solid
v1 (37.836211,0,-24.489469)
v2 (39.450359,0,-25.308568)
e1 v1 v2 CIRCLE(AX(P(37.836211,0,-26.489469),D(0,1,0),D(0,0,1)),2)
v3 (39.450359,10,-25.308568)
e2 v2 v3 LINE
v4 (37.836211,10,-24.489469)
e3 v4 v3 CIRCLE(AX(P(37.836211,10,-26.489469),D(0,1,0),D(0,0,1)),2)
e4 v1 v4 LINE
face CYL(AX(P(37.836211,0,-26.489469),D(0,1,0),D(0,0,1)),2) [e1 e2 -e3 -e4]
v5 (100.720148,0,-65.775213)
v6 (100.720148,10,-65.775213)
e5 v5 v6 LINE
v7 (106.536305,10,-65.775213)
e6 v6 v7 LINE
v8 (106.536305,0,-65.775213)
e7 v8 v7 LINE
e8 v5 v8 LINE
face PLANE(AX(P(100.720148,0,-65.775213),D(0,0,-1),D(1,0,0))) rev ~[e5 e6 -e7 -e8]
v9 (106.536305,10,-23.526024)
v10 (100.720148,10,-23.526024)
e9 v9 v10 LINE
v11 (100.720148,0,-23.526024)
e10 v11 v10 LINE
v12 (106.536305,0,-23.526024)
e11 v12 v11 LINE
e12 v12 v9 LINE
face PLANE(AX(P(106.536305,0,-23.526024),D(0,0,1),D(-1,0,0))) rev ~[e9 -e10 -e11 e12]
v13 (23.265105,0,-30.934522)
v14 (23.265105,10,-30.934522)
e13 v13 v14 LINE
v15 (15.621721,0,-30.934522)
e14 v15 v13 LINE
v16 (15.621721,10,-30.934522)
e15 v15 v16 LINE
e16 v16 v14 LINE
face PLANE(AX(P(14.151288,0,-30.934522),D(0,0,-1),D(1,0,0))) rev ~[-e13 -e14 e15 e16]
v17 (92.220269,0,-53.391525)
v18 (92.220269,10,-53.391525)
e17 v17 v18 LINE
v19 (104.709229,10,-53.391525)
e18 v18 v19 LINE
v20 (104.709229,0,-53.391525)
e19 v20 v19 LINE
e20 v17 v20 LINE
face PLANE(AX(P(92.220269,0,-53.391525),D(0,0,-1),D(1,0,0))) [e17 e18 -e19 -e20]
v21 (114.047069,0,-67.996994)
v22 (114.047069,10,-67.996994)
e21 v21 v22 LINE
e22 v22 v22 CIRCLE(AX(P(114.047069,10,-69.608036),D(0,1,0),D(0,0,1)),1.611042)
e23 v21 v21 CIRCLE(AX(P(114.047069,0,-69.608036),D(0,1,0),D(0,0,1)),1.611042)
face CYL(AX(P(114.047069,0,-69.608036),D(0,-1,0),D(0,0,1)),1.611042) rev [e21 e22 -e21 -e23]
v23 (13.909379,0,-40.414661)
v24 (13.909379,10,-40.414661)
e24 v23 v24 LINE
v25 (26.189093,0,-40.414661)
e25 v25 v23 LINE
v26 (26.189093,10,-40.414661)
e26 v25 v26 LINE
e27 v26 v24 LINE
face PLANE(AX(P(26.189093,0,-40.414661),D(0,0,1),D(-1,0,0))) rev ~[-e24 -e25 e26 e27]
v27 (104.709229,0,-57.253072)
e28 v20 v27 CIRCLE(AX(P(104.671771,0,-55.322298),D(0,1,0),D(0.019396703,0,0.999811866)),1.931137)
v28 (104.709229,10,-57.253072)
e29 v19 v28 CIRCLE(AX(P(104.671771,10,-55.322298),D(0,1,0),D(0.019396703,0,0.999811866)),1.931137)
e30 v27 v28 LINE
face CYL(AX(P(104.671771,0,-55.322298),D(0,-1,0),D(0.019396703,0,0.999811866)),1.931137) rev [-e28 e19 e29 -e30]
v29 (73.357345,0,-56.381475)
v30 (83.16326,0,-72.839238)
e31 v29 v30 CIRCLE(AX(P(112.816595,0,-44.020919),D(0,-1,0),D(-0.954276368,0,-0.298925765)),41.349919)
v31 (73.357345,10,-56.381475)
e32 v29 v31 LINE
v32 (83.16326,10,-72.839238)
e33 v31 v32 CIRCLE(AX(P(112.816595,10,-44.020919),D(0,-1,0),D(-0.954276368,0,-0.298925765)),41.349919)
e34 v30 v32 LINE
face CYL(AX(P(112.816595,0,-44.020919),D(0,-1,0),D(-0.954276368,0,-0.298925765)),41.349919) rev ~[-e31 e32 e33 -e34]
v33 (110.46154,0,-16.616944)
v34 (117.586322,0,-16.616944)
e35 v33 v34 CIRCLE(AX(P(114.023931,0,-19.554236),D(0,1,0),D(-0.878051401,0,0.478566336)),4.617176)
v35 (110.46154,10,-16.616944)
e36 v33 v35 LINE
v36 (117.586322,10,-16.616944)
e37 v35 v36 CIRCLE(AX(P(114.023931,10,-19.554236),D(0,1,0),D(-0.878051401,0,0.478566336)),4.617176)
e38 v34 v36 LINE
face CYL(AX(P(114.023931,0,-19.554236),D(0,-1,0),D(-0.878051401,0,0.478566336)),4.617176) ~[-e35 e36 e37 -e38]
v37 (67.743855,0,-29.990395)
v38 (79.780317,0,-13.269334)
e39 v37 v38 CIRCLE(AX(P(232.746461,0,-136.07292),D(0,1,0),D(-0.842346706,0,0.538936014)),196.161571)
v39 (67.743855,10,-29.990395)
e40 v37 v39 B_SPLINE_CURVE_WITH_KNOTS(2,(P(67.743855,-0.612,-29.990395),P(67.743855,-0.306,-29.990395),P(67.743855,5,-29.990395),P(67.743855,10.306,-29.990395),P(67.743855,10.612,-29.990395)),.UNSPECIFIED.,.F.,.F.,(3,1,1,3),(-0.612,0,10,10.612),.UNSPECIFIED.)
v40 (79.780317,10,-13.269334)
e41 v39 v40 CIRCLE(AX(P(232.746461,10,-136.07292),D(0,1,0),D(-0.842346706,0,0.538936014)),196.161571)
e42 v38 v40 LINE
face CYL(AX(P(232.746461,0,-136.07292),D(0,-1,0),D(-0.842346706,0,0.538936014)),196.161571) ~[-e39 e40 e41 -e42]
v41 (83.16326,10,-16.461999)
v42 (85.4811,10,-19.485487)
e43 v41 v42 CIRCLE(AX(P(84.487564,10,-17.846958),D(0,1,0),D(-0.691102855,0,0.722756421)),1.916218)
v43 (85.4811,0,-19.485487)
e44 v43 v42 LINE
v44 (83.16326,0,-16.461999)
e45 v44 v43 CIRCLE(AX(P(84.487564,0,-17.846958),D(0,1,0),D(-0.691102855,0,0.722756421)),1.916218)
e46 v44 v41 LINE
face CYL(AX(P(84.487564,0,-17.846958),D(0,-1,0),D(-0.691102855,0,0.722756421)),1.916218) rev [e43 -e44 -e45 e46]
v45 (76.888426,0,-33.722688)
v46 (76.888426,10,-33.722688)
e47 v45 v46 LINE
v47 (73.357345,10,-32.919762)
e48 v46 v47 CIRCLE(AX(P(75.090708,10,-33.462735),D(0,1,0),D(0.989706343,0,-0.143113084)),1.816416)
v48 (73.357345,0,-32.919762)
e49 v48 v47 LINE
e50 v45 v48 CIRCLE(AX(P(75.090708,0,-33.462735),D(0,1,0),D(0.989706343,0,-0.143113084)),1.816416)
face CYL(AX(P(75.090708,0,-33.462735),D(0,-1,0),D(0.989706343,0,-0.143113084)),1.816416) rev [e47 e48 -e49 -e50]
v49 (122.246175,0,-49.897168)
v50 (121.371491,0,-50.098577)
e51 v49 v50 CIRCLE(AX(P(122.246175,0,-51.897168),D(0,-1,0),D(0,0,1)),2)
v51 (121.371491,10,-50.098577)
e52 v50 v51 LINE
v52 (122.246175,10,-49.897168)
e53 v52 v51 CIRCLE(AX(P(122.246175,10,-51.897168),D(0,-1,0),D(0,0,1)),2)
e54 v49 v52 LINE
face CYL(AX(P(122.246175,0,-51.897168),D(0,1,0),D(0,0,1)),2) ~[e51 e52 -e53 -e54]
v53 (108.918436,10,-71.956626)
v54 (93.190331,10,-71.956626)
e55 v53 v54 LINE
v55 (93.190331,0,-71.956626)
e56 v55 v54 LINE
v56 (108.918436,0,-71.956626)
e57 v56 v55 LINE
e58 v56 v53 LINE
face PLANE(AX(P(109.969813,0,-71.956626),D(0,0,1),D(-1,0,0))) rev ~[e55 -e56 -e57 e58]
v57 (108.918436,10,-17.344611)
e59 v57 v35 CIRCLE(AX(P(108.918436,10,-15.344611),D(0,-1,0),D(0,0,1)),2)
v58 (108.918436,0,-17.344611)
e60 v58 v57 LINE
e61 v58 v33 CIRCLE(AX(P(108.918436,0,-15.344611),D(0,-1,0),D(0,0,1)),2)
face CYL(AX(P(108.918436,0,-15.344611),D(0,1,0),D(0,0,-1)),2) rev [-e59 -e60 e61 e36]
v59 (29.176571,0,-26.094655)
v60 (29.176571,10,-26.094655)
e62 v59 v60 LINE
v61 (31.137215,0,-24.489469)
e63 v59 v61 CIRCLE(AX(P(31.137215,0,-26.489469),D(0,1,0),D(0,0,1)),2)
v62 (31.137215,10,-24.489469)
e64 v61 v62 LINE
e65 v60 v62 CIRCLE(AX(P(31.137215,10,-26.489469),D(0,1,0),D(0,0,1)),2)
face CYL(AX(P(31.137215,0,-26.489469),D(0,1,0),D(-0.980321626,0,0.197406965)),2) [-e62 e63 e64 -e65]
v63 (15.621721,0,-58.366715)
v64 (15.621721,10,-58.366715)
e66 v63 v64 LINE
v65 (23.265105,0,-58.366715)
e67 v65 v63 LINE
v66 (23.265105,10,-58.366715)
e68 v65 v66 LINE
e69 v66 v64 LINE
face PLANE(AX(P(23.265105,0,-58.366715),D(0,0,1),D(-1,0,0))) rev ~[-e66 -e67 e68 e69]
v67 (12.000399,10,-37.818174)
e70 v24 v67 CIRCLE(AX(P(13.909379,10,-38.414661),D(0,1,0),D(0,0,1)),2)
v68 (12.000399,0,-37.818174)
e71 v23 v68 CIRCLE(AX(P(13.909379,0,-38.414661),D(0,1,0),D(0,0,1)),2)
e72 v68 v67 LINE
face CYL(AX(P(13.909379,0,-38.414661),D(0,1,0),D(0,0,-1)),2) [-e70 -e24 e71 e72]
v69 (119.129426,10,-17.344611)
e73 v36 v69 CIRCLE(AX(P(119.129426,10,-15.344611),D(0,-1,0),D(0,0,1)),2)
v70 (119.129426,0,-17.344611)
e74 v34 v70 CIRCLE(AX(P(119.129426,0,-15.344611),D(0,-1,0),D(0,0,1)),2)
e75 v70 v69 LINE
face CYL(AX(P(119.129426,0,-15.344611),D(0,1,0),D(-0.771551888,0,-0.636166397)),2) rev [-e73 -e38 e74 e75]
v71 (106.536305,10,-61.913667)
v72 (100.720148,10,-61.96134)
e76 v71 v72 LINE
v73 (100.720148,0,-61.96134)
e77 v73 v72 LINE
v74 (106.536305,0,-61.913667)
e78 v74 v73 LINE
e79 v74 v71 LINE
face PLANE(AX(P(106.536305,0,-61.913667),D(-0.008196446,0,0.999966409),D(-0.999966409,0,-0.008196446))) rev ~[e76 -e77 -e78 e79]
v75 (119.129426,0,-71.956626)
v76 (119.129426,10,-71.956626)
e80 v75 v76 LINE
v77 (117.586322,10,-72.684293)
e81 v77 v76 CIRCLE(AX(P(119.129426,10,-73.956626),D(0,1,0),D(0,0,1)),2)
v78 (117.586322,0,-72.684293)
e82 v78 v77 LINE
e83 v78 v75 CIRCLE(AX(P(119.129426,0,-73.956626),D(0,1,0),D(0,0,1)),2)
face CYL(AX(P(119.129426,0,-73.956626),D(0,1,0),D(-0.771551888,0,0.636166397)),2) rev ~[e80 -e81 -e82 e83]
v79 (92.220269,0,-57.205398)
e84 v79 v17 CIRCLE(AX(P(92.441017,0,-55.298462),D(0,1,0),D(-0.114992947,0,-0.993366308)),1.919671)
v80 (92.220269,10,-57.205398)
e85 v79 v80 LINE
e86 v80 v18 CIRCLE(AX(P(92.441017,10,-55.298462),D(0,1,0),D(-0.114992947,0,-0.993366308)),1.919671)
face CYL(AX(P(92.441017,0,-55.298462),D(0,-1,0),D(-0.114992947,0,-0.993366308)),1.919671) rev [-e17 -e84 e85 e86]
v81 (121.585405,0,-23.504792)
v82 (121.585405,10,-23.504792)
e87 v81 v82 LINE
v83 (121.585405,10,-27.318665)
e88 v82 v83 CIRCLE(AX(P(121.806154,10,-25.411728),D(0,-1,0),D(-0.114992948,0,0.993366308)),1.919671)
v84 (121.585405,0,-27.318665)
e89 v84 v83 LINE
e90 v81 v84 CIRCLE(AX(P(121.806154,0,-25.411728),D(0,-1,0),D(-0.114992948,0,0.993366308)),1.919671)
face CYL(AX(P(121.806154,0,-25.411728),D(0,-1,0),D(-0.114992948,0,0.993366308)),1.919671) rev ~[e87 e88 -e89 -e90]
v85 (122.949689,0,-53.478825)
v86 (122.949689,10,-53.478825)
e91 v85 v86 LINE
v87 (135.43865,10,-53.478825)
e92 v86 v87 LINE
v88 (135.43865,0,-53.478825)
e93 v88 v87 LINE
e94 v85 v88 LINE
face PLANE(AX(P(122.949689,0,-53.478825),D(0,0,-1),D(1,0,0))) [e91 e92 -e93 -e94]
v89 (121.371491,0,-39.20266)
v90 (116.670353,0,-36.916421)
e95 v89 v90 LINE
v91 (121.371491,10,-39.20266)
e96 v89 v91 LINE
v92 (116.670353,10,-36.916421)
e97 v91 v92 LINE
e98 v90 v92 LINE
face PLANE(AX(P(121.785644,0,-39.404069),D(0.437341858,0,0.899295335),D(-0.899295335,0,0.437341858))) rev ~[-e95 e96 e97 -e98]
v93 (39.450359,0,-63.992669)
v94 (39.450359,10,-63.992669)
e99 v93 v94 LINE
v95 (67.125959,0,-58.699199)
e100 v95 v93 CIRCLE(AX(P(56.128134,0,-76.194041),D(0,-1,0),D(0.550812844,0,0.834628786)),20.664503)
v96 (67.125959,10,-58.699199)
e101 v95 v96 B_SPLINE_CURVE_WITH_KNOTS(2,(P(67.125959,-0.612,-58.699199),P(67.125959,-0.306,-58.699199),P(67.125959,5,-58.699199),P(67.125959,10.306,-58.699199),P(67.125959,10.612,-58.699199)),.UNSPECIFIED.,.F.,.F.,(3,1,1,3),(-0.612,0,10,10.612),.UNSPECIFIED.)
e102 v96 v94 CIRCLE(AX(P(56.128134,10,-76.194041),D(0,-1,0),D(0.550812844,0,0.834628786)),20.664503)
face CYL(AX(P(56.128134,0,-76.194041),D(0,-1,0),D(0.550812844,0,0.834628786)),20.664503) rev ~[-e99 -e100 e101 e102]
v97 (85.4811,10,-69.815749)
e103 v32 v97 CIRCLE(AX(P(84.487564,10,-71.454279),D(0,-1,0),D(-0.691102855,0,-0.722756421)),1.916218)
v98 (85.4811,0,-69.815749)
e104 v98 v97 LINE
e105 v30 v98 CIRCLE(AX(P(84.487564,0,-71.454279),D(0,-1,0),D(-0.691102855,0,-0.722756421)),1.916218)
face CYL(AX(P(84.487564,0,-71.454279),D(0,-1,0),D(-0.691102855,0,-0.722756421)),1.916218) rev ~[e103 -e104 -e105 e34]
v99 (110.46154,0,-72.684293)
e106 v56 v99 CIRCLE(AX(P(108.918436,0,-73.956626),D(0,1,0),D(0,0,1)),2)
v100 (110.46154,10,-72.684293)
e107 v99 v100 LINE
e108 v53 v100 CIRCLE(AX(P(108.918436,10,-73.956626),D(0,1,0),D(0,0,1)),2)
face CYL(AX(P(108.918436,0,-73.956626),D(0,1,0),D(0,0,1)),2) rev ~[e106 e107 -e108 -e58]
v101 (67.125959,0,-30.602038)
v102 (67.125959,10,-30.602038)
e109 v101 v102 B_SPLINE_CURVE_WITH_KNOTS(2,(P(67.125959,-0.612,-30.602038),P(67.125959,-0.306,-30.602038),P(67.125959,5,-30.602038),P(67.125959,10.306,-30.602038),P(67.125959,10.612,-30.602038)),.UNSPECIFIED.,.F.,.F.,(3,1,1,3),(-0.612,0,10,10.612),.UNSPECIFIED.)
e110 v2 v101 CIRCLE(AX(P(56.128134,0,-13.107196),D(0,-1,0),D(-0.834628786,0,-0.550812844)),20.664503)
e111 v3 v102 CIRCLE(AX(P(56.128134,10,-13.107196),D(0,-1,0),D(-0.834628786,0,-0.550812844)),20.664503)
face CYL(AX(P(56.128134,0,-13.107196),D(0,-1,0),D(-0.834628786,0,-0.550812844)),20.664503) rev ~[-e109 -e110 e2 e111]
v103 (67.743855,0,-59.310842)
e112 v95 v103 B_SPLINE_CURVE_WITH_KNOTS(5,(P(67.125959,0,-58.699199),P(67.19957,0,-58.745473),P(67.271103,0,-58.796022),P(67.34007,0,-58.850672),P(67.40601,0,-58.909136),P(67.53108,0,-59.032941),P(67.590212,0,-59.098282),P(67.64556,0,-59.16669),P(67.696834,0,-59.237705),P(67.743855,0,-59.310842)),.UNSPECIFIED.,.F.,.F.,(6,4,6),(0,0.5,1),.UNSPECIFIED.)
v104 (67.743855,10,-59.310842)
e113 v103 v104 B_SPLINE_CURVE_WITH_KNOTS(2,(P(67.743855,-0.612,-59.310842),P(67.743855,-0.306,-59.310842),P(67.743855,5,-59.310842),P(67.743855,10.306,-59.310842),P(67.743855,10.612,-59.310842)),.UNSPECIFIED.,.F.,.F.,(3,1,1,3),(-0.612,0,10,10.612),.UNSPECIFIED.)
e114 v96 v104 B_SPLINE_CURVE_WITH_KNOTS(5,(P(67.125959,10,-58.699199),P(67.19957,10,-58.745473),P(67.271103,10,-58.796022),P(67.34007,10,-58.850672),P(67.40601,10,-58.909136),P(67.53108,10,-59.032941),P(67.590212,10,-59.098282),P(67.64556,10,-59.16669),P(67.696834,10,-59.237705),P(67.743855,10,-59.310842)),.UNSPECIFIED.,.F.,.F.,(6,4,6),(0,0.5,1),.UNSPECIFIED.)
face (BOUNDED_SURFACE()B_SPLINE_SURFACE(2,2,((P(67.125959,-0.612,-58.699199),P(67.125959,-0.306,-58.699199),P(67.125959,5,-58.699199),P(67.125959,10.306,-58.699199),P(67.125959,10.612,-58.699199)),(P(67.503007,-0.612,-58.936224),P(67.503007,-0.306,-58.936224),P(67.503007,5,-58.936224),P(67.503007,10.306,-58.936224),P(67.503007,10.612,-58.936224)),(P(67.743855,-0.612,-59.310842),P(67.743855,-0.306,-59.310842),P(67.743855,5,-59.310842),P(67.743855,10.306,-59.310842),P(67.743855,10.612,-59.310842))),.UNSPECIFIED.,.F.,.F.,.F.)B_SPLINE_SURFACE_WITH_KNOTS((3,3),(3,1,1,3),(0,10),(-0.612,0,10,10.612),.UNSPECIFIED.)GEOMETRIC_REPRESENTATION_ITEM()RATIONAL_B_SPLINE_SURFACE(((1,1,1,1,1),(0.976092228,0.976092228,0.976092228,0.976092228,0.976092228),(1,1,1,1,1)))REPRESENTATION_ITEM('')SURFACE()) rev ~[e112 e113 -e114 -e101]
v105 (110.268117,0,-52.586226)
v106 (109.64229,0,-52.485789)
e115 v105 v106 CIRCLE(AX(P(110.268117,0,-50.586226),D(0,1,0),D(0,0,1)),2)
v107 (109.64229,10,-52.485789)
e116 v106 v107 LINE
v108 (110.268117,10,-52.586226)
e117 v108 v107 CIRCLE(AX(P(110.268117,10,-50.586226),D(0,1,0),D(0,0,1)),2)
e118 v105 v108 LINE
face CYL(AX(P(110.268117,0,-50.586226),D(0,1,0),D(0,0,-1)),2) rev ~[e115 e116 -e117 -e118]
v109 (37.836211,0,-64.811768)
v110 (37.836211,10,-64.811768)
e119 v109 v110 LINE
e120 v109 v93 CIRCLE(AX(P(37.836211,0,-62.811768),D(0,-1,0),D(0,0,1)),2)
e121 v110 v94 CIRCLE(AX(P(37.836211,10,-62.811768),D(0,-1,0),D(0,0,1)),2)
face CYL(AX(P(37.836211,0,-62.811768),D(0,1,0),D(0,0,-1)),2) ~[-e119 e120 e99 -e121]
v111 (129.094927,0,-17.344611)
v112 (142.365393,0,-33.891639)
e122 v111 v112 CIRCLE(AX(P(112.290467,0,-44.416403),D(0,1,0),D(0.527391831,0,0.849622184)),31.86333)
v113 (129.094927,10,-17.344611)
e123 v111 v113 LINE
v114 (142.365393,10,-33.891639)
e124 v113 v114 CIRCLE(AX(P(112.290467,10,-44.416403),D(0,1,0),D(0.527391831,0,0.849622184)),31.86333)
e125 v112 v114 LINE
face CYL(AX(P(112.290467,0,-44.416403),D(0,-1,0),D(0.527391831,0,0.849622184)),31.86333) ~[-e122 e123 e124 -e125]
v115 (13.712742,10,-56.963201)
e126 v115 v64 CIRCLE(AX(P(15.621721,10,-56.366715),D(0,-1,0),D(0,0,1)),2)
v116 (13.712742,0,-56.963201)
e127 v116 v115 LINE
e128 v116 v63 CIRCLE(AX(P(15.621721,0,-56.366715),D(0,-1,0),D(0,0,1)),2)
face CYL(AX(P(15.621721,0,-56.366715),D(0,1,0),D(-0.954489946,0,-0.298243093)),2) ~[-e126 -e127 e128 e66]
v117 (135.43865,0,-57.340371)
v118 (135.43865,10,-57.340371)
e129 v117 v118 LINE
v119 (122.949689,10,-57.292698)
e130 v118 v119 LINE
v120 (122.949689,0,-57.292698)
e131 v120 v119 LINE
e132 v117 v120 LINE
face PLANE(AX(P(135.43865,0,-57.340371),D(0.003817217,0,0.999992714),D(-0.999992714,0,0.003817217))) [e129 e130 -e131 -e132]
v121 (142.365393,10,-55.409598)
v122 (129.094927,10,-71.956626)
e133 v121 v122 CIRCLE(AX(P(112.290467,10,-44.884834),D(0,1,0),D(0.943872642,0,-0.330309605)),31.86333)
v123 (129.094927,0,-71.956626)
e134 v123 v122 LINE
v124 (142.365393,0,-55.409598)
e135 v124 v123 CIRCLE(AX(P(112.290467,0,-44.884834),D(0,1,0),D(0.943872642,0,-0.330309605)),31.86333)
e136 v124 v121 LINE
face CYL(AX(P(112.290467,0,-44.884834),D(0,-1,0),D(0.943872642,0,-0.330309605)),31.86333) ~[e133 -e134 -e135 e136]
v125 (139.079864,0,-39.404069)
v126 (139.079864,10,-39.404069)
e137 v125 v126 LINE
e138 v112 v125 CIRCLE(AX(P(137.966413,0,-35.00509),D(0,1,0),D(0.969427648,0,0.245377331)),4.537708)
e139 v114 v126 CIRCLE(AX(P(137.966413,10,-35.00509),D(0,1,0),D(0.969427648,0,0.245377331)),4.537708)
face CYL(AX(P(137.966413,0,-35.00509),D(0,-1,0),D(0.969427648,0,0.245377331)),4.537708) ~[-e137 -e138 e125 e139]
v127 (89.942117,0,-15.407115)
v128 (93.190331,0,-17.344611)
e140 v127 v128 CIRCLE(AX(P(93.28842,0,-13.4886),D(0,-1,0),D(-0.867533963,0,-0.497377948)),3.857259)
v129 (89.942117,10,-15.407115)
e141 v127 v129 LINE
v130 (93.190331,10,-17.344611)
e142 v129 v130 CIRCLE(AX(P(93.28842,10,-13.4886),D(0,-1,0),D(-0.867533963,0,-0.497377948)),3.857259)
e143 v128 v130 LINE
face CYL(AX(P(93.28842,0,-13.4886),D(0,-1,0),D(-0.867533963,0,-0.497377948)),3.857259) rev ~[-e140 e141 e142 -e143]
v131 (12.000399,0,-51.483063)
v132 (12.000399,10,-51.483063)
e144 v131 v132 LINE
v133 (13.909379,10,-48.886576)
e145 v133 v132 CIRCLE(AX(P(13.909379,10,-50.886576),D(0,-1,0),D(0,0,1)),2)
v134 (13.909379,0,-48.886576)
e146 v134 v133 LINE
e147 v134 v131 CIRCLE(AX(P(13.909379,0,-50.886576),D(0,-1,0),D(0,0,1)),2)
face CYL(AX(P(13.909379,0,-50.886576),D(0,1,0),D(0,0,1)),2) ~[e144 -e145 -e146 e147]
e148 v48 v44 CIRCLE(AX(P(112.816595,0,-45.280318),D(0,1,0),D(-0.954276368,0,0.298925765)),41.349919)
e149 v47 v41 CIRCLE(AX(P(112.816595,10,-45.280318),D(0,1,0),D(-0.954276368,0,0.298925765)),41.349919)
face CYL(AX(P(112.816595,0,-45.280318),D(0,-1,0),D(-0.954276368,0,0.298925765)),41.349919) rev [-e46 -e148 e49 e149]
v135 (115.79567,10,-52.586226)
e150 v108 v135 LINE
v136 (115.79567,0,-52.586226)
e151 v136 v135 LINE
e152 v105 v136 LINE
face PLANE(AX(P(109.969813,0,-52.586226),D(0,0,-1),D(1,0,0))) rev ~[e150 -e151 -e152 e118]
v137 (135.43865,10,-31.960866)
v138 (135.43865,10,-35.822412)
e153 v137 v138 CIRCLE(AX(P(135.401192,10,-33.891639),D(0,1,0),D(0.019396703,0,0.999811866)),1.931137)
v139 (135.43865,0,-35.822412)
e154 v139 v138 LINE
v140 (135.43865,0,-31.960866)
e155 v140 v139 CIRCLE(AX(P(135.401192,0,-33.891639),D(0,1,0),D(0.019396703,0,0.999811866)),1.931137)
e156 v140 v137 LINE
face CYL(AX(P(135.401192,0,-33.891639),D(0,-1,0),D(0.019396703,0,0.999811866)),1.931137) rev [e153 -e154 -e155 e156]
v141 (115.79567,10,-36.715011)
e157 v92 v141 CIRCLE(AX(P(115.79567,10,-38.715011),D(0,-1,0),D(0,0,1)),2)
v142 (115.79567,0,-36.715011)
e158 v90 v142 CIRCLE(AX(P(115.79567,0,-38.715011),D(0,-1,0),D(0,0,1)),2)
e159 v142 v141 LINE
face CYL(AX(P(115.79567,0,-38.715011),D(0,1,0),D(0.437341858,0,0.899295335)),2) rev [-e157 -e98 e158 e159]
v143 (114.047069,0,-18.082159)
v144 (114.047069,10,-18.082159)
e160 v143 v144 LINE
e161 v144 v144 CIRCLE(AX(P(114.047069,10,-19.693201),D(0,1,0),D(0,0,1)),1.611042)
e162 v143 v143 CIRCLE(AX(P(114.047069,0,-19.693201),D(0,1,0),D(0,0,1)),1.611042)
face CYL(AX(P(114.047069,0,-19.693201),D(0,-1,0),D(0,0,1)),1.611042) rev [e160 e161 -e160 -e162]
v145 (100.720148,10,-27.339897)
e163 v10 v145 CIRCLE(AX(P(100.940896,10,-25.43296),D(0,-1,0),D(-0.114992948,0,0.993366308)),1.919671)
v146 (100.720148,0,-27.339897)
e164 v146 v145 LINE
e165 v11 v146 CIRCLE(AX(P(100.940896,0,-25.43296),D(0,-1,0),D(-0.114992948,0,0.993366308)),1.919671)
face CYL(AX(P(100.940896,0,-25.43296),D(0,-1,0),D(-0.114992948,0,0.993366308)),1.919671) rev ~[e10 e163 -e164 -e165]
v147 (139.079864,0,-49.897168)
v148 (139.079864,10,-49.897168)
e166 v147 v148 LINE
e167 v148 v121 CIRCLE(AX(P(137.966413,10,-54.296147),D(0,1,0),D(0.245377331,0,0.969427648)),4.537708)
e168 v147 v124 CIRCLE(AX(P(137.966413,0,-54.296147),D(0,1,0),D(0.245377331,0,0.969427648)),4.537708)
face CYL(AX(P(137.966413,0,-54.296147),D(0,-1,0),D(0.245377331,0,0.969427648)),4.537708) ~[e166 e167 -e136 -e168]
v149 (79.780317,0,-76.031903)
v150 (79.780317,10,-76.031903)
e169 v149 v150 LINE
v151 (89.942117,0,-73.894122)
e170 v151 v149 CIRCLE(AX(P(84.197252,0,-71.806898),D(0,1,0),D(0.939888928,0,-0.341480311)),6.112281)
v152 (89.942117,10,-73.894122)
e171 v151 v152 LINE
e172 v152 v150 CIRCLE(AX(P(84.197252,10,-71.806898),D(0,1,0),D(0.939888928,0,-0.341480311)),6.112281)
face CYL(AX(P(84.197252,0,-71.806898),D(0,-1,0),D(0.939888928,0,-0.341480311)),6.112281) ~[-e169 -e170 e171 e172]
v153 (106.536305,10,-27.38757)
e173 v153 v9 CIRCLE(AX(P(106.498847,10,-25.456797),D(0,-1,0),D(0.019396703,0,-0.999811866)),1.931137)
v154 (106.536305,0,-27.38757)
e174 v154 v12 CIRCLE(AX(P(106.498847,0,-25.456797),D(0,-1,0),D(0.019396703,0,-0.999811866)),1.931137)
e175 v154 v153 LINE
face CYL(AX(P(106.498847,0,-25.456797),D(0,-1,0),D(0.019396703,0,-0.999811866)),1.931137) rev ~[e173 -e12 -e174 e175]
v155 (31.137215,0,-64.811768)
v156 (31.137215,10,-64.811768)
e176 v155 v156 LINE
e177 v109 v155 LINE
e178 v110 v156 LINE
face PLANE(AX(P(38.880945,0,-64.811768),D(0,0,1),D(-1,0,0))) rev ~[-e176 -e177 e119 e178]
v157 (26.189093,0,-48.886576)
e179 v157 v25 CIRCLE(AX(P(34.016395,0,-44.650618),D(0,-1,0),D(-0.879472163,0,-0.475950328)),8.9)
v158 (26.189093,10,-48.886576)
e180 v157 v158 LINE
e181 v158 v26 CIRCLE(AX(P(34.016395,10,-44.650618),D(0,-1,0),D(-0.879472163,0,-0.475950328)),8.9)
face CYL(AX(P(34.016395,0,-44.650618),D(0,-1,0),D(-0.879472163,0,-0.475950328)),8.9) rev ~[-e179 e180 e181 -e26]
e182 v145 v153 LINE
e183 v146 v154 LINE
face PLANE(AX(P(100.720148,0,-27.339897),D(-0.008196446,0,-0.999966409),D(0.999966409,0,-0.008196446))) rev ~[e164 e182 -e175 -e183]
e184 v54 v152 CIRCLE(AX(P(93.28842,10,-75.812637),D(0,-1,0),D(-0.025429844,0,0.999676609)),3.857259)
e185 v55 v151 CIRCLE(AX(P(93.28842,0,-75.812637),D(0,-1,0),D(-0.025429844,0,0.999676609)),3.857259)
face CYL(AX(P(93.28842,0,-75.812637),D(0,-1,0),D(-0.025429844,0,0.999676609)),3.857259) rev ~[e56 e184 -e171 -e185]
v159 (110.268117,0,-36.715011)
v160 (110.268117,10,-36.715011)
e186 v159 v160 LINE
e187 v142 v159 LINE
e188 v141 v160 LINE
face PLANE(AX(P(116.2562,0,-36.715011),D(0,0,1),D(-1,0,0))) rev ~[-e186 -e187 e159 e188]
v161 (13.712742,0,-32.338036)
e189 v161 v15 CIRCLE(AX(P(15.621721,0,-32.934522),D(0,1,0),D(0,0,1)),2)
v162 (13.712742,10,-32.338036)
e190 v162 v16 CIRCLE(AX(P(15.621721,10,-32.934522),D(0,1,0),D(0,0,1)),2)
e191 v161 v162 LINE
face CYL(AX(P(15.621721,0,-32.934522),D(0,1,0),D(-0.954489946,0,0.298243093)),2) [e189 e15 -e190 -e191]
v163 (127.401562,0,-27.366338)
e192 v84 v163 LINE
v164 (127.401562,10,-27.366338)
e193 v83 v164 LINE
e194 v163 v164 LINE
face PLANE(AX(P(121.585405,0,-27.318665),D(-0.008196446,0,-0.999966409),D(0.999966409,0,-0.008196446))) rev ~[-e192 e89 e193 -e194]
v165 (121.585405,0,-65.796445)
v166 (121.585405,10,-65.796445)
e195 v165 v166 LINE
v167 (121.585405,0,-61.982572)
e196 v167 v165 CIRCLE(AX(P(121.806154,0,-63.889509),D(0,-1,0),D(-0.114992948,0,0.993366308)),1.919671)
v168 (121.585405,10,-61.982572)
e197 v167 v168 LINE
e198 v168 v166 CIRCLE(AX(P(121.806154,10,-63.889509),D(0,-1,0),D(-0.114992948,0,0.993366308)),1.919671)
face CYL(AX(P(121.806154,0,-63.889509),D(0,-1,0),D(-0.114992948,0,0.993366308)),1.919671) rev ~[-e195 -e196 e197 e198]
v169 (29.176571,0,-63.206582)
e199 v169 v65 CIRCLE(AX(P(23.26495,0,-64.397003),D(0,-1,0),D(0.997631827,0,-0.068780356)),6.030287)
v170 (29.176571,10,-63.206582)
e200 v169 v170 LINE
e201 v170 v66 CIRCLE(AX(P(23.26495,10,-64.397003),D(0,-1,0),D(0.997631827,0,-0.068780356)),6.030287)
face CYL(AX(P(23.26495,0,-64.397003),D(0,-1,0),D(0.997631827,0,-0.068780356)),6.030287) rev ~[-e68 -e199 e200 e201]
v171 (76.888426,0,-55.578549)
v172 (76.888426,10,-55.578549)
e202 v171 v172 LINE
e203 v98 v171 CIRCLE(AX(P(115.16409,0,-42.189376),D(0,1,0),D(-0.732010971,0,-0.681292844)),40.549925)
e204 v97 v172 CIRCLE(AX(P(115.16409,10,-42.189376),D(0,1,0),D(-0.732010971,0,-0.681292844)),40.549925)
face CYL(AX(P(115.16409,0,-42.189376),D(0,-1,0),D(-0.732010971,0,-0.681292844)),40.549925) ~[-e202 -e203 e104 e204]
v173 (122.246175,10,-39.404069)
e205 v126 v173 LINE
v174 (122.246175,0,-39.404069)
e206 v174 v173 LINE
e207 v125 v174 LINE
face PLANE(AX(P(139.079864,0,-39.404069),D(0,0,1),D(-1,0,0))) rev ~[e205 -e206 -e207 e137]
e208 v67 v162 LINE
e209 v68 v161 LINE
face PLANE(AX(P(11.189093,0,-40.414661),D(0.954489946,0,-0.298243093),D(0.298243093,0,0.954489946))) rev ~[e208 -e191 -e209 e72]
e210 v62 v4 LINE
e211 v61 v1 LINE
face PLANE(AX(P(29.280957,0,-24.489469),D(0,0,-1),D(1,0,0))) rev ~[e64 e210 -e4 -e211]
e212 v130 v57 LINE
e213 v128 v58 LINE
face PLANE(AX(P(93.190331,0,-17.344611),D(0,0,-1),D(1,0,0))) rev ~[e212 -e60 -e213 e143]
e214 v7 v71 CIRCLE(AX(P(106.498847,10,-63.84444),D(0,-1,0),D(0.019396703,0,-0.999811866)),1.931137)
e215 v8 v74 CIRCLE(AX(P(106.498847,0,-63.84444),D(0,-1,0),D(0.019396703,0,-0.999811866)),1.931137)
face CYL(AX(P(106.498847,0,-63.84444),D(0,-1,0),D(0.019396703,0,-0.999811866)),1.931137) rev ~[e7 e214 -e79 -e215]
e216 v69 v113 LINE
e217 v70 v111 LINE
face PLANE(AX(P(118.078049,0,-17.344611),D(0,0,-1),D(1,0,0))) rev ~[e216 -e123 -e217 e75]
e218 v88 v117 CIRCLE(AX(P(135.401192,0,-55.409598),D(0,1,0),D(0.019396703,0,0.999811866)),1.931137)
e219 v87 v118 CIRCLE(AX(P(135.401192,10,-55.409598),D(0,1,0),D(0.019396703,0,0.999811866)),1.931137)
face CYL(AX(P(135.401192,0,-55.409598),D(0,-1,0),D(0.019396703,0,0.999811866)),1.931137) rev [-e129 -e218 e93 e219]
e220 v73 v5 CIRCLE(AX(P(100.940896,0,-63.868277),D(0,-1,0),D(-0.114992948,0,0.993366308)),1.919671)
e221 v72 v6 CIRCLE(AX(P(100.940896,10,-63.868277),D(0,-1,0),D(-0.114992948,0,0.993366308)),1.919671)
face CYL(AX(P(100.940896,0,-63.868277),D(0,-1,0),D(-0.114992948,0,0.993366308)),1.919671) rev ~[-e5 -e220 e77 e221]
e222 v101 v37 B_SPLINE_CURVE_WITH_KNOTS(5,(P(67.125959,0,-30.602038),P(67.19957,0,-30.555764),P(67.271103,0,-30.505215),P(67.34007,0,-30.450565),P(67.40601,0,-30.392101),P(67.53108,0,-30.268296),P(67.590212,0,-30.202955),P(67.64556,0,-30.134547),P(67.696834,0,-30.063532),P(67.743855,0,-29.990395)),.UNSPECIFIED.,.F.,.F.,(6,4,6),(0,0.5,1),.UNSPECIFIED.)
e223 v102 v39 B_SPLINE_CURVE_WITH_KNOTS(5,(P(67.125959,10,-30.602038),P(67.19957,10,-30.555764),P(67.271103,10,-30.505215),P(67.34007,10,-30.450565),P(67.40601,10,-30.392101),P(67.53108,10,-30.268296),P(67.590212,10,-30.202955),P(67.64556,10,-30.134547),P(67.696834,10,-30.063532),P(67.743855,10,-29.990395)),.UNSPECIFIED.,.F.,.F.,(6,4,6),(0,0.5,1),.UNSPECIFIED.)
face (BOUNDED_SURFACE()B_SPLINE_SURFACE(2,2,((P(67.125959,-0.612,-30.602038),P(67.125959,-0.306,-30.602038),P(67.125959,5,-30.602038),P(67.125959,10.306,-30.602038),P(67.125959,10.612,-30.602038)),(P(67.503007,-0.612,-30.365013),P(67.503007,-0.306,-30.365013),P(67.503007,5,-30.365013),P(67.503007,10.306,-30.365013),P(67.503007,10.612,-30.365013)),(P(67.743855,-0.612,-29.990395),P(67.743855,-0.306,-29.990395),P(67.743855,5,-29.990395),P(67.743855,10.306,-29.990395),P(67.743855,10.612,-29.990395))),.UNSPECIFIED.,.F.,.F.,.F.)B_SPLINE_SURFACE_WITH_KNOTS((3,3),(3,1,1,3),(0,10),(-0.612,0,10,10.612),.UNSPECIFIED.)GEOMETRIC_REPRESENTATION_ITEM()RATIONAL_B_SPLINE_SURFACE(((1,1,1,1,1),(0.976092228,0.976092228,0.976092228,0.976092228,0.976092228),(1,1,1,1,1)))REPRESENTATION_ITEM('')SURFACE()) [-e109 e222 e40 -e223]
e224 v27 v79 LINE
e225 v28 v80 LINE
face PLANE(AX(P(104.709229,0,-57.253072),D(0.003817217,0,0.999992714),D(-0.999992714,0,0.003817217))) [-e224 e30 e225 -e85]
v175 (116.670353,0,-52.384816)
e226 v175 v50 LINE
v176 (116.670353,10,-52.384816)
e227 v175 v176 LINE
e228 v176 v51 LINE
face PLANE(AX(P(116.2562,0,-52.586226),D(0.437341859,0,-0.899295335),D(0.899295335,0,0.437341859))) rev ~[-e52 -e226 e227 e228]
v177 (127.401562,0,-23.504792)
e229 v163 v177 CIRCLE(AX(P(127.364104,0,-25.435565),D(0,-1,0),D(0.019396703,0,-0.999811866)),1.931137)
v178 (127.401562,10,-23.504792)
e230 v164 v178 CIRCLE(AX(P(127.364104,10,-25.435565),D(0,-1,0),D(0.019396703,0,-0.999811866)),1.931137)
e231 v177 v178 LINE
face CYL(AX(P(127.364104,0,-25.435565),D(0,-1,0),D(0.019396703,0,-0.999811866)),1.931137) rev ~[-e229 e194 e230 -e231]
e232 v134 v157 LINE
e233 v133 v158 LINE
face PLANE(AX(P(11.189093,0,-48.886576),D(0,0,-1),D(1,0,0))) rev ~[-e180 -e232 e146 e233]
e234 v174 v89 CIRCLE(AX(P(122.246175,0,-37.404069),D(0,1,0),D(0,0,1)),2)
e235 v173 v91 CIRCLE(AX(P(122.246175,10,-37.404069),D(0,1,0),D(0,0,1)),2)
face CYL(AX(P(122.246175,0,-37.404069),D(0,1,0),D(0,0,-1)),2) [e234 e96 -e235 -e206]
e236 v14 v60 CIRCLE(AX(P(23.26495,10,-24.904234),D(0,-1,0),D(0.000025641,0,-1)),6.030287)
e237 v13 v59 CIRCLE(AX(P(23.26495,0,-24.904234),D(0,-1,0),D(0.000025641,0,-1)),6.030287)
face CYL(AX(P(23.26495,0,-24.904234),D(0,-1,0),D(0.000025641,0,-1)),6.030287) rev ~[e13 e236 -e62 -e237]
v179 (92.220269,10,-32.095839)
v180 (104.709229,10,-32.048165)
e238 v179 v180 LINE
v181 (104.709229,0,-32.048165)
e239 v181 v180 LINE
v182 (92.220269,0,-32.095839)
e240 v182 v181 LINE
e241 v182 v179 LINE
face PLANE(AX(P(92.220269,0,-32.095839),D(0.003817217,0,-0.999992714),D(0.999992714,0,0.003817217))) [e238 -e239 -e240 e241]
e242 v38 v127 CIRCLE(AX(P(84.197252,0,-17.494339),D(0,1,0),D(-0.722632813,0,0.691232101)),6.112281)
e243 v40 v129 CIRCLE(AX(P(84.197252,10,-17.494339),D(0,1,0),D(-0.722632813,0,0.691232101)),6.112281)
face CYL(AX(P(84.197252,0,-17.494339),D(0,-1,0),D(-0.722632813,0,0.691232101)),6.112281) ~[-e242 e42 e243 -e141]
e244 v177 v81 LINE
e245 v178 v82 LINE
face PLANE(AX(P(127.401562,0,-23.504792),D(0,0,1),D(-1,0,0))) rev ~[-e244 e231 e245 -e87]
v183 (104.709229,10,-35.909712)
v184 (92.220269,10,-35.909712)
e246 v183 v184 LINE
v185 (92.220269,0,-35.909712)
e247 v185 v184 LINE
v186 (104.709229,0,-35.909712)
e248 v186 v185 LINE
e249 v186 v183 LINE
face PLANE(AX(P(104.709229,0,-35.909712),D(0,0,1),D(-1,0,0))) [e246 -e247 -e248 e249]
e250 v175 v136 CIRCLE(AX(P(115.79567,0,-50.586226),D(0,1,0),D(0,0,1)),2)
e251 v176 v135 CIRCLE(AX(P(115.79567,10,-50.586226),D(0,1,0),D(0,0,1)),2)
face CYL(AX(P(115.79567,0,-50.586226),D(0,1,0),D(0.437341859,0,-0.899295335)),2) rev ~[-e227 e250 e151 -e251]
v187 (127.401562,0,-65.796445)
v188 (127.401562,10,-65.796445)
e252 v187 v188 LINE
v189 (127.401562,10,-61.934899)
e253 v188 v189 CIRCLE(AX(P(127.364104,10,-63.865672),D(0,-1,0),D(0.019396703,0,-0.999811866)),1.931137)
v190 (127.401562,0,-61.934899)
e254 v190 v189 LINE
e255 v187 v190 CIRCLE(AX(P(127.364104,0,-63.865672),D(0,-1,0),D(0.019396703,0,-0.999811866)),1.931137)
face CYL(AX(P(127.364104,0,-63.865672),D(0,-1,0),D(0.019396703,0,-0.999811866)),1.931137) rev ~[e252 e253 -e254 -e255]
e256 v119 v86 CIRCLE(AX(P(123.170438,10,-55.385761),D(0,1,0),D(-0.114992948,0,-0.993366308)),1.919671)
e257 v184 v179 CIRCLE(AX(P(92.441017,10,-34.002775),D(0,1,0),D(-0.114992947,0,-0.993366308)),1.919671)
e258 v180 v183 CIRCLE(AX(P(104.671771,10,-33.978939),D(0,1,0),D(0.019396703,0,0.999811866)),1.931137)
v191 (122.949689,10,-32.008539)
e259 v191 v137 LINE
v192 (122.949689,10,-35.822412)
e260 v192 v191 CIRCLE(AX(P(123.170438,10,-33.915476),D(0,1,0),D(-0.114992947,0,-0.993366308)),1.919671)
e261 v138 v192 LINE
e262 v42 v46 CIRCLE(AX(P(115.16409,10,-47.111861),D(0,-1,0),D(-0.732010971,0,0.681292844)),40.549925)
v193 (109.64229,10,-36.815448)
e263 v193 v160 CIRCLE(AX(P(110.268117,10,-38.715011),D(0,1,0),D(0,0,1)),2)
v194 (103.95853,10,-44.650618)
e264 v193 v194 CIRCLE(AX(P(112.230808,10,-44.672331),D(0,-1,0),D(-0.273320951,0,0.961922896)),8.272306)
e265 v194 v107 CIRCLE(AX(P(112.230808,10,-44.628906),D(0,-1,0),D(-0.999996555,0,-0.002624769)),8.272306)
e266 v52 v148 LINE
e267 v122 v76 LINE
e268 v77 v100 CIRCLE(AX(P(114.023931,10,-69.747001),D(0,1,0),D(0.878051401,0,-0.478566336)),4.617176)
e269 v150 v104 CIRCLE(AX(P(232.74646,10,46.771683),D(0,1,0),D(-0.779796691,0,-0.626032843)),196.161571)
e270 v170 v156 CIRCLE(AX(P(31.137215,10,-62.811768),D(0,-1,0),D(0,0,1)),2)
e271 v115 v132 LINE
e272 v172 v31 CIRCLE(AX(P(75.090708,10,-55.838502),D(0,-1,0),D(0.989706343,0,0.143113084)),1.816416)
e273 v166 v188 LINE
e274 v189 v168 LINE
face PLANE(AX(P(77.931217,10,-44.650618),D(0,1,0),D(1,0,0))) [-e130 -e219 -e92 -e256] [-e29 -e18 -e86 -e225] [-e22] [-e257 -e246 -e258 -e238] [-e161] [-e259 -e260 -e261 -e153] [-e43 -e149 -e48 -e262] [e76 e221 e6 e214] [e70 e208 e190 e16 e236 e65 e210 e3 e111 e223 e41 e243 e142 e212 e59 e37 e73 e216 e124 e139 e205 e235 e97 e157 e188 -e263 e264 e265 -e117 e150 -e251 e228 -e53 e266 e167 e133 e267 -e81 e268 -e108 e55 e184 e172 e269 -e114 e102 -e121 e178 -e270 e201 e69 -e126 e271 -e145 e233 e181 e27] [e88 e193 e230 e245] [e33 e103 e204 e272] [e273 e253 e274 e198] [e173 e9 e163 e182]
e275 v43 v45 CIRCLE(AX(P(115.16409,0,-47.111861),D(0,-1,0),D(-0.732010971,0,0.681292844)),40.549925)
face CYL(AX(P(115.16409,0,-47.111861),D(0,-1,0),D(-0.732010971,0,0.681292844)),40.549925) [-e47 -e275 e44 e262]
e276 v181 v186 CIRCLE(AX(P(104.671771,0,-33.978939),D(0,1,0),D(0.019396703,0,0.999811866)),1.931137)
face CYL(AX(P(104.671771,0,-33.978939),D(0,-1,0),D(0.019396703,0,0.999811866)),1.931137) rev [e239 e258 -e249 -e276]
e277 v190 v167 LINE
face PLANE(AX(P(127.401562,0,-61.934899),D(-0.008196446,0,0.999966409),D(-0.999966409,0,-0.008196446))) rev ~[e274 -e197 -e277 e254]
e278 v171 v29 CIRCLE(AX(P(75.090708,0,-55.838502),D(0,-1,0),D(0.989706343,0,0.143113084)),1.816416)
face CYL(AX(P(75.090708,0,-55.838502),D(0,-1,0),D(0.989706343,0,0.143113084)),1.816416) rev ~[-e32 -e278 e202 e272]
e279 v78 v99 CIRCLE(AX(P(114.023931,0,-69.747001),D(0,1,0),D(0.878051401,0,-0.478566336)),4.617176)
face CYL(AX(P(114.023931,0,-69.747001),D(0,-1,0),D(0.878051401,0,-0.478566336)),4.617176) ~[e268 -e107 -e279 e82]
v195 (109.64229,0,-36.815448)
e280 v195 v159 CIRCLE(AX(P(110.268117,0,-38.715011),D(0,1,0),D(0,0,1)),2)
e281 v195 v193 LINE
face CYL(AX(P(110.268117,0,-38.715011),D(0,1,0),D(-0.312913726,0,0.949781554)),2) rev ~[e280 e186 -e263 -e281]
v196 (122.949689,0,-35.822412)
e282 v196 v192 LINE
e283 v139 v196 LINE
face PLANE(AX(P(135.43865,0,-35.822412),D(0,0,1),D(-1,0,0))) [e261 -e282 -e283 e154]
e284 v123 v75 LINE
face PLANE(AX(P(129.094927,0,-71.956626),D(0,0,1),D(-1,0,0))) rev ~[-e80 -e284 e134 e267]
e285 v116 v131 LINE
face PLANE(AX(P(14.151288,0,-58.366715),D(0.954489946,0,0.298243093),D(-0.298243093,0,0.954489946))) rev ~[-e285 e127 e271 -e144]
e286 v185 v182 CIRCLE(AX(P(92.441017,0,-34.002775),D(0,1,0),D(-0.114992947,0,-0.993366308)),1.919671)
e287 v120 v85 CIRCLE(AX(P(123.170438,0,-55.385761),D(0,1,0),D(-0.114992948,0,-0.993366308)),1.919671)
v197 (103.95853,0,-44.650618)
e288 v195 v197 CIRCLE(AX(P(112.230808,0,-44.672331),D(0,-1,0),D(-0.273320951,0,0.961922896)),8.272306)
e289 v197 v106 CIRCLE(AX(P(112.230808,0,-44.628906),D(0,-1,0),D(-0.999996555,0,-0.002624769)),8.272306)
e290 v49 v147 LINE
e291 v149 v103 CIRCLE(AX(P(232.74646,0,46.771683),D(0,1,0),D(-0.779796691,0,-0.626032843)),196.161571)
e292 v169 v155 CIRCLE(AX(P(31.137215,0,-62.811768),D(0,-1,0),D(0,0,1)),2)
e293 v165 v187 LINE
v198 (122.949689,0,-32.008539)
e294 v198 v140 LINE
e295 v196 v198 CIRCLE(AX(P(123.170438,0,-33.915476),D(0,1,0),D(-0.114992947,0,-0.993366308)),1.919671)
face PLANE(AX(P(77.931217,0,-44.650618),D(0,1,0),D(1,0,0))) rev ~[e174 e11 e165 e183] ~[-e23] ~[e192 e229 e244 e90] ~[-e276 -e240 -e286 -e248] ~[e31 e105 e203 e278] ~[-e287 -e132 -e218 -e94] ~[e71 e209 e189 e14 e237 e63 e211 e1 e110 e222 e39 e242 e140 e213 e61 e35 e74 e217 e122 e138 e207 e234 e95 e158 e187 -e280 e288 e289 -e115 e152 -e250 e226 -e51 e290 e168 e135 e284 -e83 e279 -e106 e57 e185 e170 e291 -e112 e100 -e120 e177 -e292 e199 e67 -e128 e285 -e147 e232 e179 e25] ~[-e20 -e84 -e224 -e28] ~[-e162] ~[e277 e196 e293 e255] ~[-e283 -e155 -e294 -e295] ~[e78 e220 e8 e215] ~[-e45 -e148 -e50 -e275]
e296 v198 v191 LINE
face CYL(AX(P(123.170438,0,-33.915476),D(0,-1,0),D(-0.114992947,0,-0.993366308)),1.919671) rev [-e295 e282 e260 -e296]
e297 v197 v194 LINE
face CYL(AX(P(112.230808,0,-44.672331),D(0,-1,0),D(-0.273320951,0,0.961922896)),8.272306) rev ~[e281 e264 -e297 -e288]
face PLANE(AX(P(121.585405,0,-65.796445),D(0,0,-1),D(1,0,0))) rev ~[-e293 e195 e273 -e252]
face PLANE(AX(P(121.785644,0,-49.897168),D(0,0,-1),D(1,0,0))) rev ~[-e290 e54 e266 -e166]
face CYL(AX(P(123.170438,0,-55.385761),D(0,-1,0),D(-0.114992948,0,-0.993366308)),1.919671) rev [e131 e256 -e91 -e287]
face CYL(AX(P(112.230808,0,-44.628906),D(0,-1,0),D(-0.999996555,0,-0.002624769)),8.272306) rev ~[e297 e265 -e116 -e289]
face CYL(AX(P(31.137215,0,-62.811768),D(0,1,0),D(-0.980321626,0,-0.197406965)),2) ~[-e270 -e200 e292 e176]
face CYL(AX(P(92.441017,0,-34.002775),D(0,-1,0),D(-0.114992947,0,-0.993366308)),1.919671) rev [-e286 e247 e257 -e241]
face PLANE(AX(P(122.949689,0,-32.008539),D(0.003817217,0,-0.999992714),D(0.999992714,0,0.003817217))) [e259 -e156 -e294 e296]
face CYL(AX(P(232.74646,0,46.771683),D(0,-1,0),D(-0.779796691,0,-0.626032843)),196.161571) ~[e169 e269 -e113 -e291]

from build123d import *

# Parameters (mm, degrees)
SKETCH1_R           = 1.611042105
BOSS_EXTRUDE1_DEPTH = 10
FILLET1_R           = 2


with BuildPart() as part:
    # Sketch1 → Boss-Extrude1 (new body)
    with BuildSketch(Plane(origin=(0, 0, 0), x_dir=(1, 0, 0), z_dir=(0, 1, 0))):
        with BuildLine():
            Line((11.189092539, 48.886576386), (26.189092539, 48.886576386))
            ThreePointArc((26.189092539, 48.886576386), (42.916394787, 44.650618463), (26.189092539, 40.41466054))
            Line((26.189092539, 40.41466054), (11.189092539, 40.41466054))
            Line((11.189092539, 40.41466054), (14.151288092, 30.934521893))
            Line((14.151288092, 30.934521893), (23.265104761, 30.934521893))
            ThreePointArc((23.265104761, 30.934521893), (27.673263401, 29.01898123), (29.280956873, 24.489469079))
            Line((29.280956873, 24.489469079), (38.880945403, 24.489469079))
            ThreePointArc((38.880945403, 24.489469079), (51.981012749, 33.351282464), (67.510407542, 30.354384348))
            ThreePointArc((67.510407542, 30.354384348), (73.416192631, 21.647277215), (79.780316608, 13.269333663))
            ThreePointArc((79.780316608, 13.269333663), (85.455574773, 11.512983879), (89.942117167, 15.407114995))
            ThreePointArc((89.942117167, 15.407114995), (91.312456479, 16.8013043), (93.190330691, 17.344610927))
            Line((93.190330691, 17.344610927), (109.969813161, 17.344610927))
            ThreePointArc((109.969813161, 17.344610927), (114.023930948, 14.937059966), (118.078048735, 17.344610927))
            Line((118.078048735, 17.344610927), (129.094927047, 17.344610927))
            ThreePointArc((129.094927047, 17.344610927), (137.147462695, 24.481469598), (142.365392606, 33.89163907))
            ThreePointArc((142.365392606, 33.89163907), (141.864289866, 37.32830933), (139.079863875, 39.404069031))
            Line((139.079863875, 39.404069031), (121.785643939, 39.404069031))
            Line((121.785643939, 39.404069031), (116.256200304, 36.715011207))
            Line((116.256200304, 36.715011207), (109.969813161, 36.715011207))
            ThreePointArc((109.969813161, 36.715011207), (105.636801382, 39.677321657), (103.958530498, 44.650618463))
            ThreePointArc((103.958530498, 44.650618463), (105.636801382, 49.623915269), (109.969813161, 52.58622572))
            Line((109.969813161, 52.58622572), (116.256200304, 52.58622572))
            Line((116.256200304, 52.58622572), (121.785643939, 49.897167895))
            Line((121.785643939, 49.897167895), (139.079863875, 49.897167895))
            ThreePointArc((139.079863875, 49.897167895), (141.864289866, 51.972927596), (142.365392606, 55.409597857))
            ThreePointArc((142.365392606, 55.409597857), (137.147462695, 64.819767329), (129.094927047, 71.956626))
            Line((129.094927047, 71.956626), (118.078048735, 71.956626))
            ThreePointArc((118.078048735, 71.956626), (114.023930948, 74.364176961), (109.969813161, 71.956626))
            Line((109.969813161, 71.956626), (93.190330691, 71.956626))
            ThreePointArc((93.190330691, 71.956626), (91.312456479, 72.499932627), (89.942117167, 73.894121932))
            ThreePointArc((89.942117167, 73.894121932), (85.455574773, 77.788253047), (79.780316608, 76.031903263))
            ThreePointArc((79.780316608, 76.031903263), (73.416192631, 67.653959712), (67.510407542, 58.946852578))
            ThreePointArc((67.510407542, 58.946852578), (51.981012749, 55.949954462), (38.880945403, 64.811767847))
            Line((38.880945403, 64.811767847), (29.280956873, 64.811767847))
            ThreePointArc((29.280956873, 64.811767847), (27.673263401, 60.282255697), (23.265104761, 58.366715034))
            Line((23.265104761, 58.366715034), (14.151288092, 58.366715034))
            Line((14.151288092, 58.366715034), (11.189092539, 48.886576386))
        make_face()
        with Locations(Location((114.047069209, 69.608036313, 0), (0, 0, 270))):
            Circle(SKETCH1_R, mode=Mode.SUBTRACT)
        with Locations(Location((114.047069209, 19.693200614, 0), (0, 0, 270))):
            Circle(SKETCH1_R, mode=Mode.SUBTRACT)
        with BuildLine():
            Line((100.720147832, 65.775213403), (106.53630451, 65.775213403))
            ThreePointArc((106.53630451, 65.775213403), (108.429983462, 63.84444008), (106.53630451, 61.913666756))
            Line((106.53630451, 61.913666756), (100.720147832, 61.961340172))
            ThreePointArc((100.720147832, 61.961340172), (99.021225351, 63.868276787), (100.720147832, 65.775213403))
        make_face(mode=Mode.SUBTRACT)
        with BuildLine():
            Line((121.585405336, 65.7964452), (127.401562014, 65.7964452))
            ThreePointArc((127.401562014, 65.7964452), (129.295240966, 63.865671877), (127.401562014, 61.934898553))
            Line((127.401562014, 61.934898553), (121.585405336, 61.982571969))
            ThreePointArc((121.585405336, 61.982571969), (119.886482855, 63.889508585), (121.585405336, 65.7964452))
        make_face(mode=Mode.SUBTRACT)
        with BuildLine():
            Line((92.220268628, 53.391525043), (104.709229066, 53.391525043))
            ThreePointArc((104.709229066, 53.391525043), (106.602908018, 55.322298366), (104.709229066, 57.25307169))
            Line((104.709229066, 57.25307169), (92.220268628, 57.205398274))
            ThreePointArc((92.220268628, 57.205398274), (90.521346146, 55.298461659), (92.220268628, 53.391525043))
        make_face(mode=Mode.SUBTRACT)
        with BuildLine():
            Line((122.949689173, 53.478824533), (135.438649611, 53.478824533))
            ThreePointArc((135.438649611, 53.478824533), (137.332328563, 55.409597857), (135.438649611, 57.34037118))
            Line((135.438649611, 57.34037118), (122.949689173, 57.292697765))
            ThreePointArc((122.949689173, 57.292697765), (121.250766691, 55.385761149), (122.949689173, 53.478824533))
        make_face(mode=Mode.SUBTRACT)
        with BuildLine():
            Line((122.949689173, 32.008539162), (135.438649611, 31.960865746))
            ThreePointArc((135.438649611, 31.960865746), (137.332328563, 33.89163907), (135.438649611, 35.822412393))
            Line((135.438649611, 35.822412393), (122.949689173, 35.822412393))
            ThreePointArc((122.949689173, 35.822412393), (121.250766691, 33.915475777), (122.949689173, 32.008539162))
        make_face(mode=Mode.SUBTRACT)
        with BuildLine():
            Line((92.220268628, 32.095838652), (104.709229066, 32.048165237))
            ThreePointArc((104.709229066, 32.048165237), (106.602908018, 33.97893856), (104.709229066, 35.909711883))
            Line((104.709229066, 35.909711883), (92.220268628, 35.909711883))
            ThreePointArc((92.220268628, 35.909711883), (90.521346146, 34.002775268), (92.220268628, 32.095838652))
        make_face(mode=Mode.SUBTRACT)
        with BuildLine():
            Line((121.585405336, 27.318664957), (127.401562014, 27.366338373))
            ThreePointArc((127.401562014, 27.366338373), (129.295240966, 25.43556505), (127.401562014, 23.504791726))
            Line((127.401562014, 23.504791726), (121.585405336, 23.504791726))
            ThreePointArc((121.585405336, 23.504791726), (119.886482855, 25.411728342), (121.585405336, 27.318664957))
        make_face(mode=Mode.SUBTRACT)
        with BuildLine():
            Line((100.720147832, 27.339896755), (106.53630451, 27.38757017))
            ThreePointArc((106.53630451, 27.38757017), (108.429983462, 25.456796847), (106.53630451, 23.526023523))
            Line((106.53630451, 23.526023523), (100.720147832, 23.526023523))
            ThreePointArc((100.720147832, 23.526023523), (99.021225351, 25.432960139), (100.720147832, 27.339896755))
        make_face(mode=Mode.SUBTRACT)
        with BuildLine():
            ThreePointArc((73.357344755, 56.381475255), (77.294040814, 65.186077342), (83.163259717, 72.839237686))
            ThreePointArc((83.163259717, 72.839237686), (86.008327328, 72.620113362), (85.481100389, 69.815749453))
            ThreePointArc((85.481100389, 69.815749453), (80.447104068, 63.142353595), (76.888426245, 55.578548773))
            ThreePointArc((76.888426245, 55.578548773), (74.68795699, 54.067298901), (73.357344755, 56.381475255))
        make_face(mode=Mode.SUBTRACT)
        with BuildLine():
            ThreePointArc((85.481100389, 19.485487474), (80.447104068, 26.158883331), (76.888426245, 33.722688153))
            ThreePointArc((76.888426245, 33.722688153), (74.68795699, 35.233938025), (73.357344755, 32.919761671))
            ThreePointArc((73.357344755, 32.919761671), (77.294040814, 24.115159584), (83.163259717, 16.461999241))
            ThreePointArc((83.163259717, 16.461999241), (86.008327328, 16.681123564), (85.481100389, 19.485487474))
        make_face(mode=Mode.SUBTRACT)
    extrude(amount=BOSS_EXTRUDE1_DEPTH)

    # Fillet1
    fillet1_edges = [part.edges().sort_by_distance(p)[0] for p in [
        (67.510407542, 5, -30.354384348),
        (38.880945403, 5, -24.489469079),
        (29.280956873, 5, -24.489469079),
        (14.151288092, 5, -30.934521893),
        (11.189092539, 5, -40.41466054),
        (11.189092539, 5, -48.886576386),
        (14.151288092, 5, -58.366715034),
        (29.280956873, 5, -64.811767847),
        (38.880945403, 5, -64.811767847),
        (67.510407542, 5, -58.946852578),
        (109.969813161, 5, -71.956626),
        (118.078048735, 5, -71.956626),
        (121.785643939, 5, -49.897167895),
        (116.256200304, 5, -52.58622572),
        (109.969813161, 5, -52.58622572),
        (109.969813161, 5, -36.715011207),
        (116.256200304, 5, -36.715011207),
        (121.785643939, 5, -39.404069031),
        (118.078048735, 5, -17.344610927),
        (109.969813161, 5, -17.344610927),
    ]]
    fillet(fillet1_edges, radius=FILLET1_R)


solid = part.part
